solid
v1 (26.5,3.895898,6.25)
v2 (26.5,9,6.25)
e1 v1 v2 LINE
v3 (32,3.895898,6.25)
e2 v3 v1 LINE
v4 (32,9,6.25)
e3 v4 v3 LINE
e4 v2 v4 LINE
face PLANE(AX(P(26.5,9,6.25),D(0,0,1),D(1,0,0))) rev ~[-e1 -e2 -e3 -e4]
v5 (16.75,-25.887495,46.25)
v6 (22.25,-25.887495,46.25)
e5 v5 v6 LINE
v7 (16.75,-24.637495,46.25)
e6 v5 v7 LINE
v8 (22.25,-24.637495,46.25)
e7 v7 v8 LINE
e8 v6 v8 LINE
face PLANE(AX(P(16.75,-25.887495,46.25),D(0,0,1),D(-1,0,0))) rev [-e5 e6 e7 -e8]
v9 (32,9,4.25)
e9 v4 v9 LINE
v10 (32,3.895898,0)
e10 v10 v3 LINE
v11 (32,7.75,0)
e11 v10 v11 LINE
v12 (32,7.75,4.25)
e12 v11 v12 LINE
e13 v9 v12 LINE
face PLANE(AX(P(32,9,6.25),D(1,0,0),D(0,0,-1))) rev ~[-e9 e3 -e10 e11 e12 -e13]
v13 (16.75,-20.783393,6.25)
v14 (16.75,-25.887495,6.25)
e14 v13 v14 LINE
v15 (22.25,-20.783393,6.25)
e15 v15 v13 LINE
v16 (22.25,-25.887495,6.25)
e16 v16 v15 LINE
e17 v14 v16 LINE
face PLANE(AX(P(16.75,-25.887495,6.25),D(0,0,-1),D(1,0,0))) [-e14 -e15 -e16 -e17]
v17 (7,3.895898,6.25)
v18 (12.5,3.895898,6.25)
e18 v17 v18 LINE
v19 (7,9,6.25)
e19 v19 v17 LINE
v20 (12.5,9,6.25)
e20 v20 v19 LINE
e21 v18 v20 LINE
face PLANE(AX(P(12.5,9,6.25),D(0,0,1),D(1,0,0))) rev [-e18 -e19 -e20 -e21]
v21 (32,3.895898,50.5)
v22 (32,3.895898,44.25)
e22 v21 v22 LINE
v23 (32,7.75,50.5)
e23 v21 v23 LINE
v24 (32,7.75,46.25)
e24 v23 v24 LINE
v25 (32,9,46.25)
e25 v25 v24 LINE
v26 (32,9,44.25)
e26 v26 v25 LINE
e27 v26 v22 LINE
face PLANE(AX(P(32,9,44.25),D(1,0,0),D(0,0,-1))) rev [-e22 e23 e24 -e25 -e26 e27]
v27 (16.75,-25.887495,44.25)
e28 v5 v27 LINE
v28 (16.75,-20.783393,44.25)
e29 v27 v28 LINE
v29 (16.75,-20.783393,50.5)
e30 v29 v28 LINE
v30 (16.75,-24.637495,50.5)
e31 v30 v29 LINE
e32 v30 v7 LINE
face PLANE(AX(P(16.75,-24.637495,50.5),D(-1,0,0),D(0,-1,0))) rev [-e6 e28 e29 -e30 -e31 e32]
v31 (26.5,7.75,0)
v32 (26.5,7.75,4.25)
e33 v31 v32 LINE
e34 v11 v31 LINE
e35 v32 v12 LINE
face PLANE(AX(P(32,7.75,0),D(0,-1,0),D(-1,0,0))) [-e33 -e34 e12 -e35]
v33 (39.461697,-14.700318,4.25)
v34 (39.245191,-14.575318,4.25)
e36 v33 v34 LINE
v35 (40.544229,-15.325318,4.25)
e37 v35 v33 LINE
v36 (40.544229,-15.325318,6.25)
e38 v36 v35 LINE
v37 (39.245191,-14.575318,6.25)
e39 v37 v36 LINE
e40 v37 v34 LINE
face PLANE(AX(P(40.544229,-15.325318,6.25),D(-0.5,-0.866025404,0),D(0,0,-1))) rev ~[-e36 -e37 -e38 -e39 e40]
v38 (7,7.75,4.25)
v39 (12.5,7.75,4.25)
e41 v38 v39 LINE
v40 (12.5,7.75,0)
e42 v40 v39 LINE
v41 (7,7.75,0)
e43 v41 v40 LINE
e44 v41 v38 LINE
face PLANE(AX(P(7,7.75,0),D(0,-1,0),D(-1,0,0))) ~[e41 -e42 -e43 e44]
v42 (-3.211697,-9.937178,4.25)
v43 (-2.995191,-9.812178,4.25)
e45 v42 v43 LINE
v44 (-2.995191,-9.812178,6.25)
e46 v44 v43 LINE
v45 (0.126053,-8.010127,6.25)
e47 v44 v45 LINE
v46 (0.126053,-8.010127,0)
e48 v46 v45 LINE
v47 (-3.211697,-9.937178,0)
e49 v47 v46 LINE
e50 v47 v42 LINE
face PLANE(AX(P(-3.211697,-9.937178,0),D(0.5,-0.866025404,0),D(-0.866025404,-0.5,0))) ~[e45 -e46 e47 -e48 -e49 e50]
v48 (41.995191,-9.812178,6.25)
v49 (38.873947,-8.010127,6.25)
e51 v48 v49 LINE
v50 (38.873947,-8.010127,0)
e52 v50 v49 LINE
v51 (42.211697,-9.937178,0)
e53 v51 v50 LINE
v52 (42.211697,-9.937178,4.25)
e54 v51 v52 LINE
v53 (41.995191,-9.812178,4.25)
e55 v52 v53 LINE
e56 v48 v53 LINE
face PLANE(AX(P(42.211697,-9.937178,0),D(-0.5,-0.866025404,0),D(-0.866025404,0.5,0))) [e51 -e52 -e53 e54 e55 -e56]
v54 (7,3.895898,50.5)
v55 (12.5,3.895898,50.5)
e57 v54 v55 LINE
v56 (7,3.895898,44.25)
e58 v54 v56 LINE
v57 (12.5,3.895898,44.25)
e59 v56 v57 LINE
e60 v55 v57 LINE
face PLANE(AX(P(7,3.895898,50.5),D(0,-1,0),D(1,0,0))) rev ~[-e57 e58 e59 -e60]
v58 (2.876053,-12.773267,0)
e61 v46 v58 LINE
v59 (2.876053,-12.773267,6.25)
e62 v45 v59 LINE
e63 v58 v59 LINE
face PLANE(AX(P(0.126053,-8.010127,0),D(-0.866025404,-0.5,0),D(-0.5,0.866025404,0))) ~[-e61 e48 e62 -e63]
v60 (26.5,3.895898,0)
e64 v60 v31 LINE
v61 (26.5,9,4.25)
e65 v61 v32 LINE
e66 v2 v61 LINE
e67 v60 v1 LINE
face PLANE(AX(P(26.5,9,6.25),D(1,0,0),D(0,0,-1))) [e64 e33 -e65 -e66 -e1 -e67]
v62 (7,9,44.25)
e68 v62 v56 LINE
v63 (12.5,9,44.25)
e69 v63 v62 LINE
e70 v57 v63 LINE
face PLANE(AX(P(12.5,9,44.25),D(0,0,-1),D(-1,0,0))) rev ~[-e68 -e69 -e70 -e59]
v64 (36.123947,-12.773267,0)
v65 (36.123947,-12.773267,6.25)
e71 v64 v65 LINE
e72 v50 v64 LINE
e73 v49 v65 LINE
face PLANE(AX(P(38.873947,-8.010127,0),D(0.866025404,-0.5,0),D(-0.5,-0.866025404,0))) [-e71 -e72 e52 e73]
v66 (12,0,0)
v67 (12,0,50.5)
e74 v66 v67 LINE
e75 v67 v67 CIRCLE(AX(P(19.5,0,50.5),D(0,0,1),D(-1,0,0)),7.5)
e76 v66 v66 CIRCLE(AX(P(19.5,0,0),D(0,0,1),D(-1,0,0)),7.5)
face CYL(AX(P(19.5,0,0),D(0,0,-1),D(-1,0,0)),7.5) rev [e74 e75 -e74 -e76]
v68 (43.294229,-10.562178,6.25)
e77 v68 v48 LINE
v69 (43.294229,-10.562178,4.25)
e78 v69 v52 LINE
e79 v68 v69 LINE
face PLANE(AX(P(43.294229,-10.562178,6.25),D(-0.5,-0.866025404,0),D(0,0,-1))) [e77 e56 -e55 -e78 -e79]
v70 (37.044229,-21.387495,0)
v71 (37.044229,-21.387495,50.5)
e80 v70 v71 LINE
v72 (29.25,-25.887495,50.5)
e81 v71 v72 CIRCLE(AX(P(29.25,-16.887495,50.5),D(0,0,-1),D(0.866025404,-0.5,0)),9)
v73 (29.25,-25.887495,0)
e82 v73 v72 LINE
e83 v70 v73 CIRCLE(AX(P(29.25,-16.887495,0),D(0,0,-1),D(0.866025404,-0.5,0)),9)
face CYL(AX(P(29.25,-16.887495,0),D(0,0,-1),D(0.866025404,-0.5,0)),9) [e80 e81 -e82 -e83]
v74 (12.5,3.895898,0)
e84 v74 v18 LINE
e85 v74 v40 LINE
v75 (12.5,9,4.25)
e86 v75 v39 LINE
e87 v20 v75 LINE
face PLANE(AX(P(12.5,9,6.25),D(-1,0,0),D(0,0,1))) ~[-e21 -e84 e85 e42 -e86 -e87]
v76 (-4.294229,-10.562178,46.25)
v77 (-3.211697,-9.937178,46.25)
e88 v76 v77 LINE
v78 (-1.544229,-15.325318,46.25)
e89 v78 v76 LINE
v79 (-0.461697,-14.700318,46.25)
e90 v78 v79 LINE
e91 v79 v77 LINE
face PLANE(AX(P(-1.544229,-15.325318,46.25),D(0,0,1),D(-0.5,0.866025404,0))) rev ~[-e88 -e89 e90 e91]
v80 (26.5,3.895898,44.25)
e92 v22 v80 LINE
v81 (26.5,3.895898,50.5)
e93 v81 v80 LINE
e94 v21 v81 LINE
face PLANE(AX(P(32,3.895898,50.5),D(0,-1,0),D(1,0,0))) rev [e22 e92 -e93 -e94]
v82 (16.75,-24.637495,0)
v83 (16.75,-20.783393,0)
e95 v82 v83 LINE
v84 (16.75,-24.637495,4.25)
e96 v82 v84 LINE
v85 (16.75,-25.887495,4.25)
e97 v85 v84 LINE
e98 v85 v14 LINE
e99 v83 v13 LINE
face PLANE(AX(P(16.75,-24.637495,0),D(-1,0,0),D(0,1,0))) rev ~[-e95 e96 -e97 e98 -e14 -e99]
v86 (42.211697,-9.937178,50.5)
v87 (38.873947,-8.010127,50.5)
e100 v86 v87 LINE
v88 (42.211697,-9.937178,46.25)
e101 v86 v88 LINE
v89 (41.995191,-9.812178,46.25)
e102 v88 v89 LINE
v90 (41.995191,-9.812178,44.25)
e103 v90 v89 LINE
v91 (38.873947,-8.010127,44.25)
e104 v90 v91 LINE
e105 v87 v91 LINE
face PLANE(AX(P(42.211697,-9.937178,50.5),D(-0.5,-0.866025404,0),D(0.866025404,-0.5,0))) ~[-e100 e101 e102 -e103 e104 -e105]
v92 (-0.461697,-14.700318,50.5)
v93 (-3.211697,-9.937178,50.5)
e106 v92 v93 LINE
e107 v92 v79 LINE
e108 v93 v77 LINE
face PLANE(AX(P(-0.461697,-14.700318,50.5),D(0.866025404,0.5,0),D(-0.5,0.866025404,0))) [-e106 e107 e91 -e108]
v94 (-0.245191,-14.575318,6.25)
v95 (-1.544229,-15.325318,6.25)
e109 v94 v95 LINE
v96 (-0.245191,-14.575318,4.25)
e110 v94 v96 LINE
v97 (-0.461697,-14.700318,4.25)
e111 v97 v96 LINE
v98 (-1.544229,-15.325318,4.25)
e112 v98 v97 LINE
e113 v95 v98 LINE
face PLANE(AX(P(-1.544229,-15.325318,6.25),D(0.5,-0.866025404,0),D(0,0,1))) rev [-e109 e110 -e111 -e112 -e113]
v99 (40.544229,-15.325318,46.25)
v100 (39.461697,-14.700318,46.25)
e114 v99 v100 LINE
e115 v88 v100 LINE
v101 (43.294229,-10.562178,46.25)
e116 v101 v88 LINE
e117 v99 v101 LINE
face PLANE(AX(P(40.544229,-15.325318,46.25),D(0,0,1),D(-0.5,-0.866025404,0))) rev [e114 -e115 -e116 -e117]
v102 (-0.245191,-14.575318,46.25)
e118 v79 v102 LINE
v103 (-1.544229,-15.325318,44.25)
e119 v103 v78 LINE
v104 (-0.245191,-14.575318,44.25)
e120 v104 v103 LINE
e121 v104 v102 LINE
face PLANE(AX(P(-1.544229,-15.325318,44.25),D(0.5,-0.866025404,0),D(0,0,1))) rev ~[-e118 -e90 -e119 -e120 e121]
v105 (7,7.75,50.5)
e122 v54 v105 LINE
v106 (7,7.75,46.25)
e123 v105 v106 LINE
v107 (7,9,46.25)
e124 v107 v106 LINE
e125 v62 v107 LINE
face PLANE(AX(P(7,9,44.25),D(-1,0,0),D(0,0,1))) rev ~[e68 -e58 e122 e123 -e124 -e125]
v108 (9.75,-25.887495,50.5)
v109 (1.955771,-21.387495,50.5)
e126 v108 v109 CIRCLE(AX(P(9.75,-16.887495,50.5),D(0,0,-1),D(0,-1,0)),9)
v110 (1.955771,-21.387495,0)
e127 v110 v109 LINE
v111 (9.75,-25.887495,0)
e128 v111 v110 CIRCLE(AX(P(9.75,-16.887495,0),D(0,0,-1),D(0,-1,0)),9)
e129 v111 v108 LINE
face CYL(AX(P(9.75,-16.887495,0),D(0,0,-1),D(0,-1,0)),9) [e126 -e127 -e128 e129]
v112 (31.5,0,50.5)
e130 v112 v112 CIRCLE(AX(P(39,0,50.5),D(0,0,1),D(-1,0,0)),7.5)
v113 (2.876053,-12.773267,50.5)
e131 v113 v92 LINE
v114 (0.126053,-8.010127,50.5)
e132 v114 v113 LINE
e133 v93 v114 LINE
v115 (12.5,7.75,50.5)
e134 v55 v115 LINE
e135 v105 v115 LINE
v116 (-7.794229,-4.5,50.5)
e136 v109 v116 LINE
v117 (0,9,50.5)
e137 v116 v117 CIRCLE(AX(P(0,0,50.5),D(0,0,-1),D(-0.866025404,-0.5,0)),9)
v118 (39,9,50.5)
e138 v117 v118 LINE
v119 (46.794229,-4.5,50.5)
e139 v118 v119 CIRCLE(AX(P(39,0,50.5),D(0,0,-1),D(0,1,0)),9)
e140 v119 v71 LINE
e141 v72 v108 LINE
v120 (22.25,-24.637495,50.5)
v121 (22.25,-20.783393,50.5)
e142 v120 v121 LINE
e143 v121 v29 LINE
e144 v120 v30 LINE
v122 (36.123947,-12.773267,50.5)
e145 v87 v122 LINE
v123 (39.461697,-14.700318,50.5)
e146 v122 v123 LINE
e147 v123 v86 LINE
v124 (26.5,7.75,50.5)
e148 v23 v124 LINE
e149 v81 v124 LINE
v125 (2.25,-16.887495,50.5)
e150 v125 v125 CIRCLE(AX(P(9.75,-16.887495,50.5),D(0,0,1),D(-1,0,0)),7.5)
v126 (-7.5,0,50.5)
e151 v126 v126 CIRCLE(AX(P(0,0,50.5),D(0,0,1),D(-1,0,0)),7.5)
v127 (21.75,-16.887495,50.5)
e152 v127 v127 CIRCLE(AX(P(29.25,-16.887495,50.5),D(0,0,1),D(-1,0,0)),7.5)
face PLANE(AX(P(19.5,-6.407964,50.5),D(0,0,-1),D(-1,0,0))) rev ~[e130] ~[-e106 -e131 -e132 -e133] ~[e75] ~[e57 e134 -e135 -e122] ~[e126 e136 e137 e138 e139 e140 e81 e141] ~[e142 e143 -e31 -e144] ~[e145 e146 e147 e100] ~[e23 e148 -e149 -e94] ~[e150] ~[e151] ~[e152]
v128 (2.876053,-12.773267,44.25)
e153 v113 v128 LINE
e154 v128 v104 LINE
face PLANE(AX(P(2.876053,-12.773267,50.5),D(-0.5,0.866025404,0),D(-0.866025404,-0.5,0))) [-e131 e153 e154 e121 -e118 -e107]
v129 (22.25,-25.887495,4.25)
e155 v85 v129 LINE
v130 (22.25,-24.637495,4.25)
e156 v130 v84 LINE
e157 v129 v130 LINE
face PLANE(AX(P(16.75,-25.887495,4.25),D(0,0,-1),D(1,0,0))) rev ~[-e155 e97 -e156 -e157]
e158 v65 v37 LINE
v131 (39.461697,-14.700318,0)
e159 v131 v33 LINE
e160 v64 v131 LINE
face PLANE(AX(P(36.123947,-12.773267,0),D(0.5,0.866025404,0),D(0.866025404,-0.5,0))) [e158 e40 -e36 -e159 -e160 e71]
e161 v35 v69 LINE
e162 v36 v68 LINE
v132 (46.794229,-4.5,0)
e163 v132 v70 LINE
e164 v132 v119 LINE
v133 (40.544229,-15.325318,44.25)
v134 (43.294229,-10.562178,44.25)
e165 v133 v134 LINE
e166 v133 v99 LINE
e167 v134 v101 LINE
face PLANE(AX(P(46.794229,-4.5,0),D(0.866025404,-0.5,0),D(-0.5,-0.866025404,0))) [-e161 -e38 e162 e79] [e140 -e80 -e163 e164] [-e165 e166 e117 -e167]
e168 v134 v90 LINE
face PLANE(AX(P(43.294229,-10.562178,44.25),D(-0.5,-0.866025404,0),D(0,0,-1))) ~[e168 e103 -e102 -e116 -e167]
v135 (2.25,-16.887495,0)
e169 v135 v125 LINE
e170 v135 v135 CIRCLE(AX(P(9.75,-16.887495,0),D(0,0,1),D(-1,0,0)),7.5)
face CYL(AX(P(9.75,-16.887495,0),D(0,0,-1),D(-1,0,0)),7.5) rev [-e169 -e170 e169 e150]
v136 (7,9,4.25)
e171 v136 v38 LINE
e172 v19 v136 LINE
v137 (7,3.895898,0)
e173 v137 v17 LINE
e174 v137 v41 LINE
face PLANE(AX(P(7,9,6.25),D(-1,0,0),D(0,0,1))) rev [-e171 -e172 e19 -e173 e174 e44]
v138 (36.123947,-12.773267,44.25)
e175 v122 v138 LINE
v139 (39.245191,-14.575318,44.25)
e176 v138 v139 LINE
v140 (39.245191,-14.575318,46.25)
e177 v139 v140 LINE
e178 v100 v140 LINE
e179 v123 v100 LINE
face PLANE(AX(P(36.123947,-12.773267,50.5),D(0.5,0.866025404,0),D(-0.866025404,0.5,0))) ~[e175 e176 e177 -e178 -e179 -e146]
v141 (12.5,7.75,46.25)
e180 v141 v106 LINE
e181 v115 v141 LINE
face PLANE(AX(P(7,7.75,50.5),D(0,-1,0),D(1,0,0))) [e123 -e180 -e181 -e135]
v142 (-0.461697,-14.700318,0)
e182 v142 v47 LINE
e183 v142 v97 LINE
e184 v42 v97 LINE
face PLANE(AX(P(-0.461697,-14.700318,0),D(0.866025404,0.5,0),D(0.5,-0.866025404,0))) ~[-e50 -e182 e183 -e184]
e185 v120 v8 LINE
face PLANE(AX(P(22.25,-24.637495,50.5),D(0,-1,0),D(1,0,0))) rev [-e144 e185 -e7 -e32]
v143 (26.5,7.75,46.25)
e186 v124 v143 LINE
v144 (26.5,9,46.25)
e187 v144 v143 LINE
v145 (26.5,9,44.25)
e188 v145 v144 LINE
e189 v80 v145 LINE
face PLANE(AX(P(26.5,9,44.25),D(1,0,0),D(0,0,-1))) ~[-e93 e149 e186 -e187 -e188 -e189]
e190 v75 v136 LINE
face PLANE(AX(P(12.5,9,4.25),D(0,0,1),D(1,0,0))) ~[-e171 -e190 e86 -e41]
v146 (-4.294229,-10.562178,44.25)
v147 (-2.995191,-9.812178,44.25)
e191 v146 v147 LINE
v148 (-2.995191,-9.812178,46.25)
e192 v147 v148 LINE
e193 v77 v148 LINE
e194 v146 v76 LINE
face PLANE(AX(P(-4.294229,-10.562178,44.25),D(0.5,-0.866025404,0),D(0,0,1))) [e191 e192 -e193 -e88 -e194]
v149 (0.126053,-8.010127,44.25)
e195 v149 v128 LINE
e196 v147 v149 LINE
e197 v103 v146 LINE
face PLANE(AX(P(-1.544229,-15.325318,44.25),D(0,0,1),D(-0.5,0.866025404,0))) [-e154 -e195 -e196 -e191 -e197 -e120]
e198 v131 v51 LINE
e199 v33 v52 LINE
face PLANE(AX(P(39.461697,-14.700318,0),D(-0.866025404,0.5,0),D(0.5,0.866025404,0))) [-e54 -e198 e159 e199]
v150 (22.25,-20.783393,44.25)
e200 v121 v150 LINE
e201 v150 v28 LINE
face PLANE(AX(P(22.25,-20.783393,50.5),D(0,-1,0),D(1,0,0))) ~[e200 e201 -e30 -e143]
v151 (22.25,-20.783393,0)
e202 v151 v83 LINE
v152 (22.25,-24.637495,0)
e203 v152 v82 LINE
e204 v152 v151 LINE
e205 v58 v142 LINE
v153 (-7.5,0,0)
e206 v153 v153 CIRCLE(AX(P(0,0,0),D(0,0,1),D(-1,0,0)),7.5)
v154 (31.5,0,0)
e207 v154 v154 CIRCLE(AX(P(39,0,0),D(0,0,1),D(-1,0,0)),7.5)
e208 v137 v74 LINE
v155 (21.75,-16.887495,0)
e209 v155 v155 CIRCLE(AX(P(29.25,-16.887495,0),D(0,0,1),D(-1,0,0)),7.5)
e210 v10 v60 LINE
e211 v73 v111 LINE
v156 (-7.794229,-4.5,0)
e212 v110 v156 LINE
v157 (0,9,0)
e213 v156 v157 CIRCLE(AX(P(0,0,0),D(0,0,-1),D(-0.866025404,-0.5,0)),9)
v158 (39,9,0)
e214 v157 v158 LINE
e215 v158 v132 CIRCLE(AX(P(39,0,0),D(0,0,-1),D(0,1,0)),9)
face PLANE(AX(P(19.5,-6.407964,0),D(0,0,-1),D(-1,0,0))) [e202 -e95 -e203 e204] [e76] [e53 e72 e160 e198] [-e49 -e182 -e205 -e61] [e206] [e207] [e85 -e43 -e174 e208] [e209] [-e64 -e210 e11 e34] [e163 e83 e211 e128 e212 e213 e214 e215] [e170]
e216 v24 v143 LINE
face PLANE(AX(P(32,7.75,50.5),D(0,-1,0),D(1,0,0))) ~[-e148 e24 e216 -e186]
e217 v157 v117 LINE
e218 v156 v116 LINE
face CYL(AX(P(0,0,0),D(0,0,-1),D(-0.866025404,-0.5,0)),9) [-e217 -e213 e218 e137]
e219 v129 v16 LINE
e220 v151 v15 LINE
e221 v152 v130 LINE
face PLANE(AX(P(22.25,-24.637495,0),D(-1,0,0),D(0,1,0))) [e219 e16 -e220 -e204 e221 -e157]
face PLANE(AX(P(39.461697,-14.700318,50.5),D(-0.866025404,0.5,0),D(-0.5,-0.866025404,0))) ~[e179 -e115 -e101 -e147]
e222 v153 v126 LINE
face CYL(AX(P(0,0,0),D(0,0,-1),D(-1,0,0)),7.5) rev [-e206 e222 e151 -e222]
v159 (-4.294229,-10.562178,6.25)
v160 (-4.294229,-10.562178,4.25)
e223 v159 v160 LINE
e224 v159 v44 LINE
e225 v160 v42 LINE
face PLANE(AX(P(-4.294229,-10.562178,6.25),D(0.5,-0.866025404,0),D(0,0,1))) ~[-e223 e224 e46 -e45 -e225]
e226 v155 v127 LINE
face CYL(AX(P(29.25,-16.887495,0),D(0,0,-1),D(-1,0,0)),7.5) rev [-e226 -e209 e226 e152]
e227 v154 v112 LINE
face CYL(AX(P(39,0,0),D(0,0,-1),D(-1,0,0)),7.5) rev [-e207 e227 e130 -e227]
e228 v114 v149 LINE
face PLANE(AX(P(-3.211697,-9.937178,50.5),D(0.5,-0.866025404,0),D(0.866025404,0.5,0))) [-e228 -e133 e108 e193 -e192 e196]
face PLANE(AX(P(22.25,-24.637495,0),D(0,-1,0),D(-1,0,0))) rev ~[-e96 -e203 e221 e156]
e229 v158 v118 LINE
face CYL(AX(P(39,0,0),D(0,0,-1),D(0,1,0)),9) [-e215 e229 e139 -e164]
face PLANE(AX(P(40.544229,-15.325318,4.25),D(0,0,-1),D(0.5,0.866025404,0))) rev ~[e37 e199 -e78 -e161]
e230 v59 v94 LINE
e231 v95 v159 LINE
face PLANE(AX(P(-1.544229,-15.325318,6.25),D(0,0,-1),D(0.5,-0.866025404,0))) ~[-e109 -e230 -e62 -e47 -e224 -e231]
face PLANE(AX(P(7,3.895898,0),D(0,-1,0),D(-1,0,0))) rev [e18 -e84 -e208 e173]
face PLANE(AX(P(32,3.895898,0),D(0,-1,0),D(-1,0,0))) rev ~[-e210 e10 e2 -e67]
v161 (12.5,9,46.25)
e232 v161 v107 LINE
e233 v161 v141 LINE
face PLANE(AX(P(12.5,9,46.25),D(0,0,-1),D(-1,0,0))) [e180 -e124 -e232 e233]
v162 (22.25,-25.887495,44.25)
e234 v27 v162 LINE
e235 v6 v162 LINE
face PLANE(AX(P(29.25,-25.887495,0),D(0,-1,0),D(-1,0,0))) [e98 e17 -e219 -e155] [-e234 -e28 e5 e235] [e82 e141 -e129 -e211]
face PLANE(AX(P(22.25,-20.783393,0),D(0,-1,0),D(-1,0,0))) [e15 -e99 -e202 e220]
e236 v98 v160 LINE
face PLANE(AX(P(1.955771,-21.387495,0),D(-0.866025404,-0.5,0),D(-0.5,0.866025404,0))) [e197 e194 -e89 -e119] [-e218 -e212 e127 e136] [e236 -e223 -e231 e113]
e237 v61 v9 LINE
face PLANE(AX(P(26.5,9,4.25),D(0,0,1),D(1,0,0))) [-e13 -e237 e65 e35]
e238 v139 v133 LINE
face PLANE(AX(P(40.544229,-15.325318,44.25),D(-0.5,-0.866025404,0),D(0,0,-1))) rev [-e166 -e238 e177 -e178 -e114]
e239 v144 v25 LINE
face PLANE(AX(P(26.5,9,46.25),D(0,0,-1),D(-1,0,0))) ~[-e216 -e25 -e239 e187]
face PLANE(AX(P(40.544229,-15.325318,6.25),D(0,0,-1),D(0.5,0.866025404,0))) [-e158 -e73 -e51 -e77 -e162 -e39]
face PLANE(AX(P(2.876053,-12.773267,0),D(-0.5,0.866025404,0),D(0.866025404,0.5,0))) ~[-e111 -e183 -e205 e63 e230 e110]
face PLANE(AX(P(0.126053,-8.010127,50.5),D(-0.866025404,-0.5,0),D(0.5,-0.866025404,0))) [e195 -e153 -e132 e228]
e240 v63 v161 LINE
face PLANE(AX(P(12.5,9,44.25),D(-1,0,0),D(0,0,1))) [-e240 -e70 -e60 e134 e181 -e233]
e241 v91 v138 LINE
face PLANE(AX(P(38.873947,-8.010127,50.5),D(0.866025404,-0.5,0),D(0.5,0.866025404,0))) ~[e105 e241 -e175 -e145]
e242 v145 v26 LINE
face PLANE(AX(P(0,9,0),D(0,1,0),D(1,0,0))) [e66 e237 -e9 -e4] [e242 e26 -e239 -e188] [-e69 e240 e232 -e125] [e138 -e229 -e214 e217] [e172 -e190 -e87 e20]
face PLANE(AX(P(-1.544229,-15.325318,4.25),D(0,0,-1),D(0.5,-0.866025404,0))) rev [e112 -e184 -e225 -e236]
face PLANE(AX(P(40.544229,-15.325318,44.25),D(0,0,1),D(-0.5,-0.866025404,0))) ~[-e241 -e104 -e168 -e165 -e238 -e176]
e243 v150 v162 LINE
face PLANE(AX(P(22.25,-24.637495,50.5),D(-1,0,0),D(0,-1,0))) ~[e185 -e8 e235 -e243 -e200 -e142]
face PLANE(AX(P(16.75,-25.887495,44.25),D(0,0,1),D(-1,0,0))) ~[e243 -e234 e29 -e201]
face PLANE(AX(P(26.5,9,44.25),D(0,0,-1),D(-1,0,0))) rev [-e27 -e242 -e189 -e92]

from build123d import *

# Parameters (mm, degrees)
SKETCH1_R               = 7.5
BOSS_EXTRUDE1_DEPTH     = 50.5
SKETCH2_W               = 2
SKETCH2_H               = 5.5
CUT_EXTRUDE1_DEPTH      = 1.5
SKETCH3_W               = 5.5
SKETCH3_H               = 2
CUT_EXTRUDE2_DEPTH      = 1.5
SKETCH4_W               = 5.5
SKETCH4_H               = 2
CUT_EXTRUDE3_DEPTH      = 1.5
SKETCH5_W               = 5.5
SKETCH5_H               = 3.854101966
CUT_EXTRUDE4_DEPTH      = 6.25
MIRROR3_COPY_1_SKETCH_W = 2
MIRROR3_COPY_1_SKETCH_H = 5.5
MIRROR3_COPY_1_DEPTH    = 1.5
MIRROR3_COPY_2_SKETCH_W = 5.5
MIRROR3_COPY_2_SKETCH_H = 2
MIRROR3_COPY_2_DEPTH    = 1.5
MIRROR3_COPY_3_SKETCH_W = 5.5
MIRROR3_COPY_3_SKETCH_H = 2
MIRROR3_COPY_3_DEPTH    = 1.5
MIRROR3_COPY_4_SKETCH_W = 5.5
MIRROR3_COPY_4_SKETCH_H = 3.854101966
MIRROR3_COPY_4_DEPTH    = 6.25


with BuildPart() as part:
    # Sketch1 → Boss-Extrude1 (new body)
    with BuildSketch(Plane.XY):
        with BuildLine():
            Line((0, 9), (39, 9))
            ThreePointArc((39, 9), (46.794228634, 4.5), (46.794228634, -4.5))
            Line((46.794228634, -4.5), (37.044228634, -21.387495374))
            ThreePointArc((37.044228634, -21.387495374), (33.75, -24.681724008), (29.25, -25.887495374))
            Line((29.25, -25.887495374), (9.75, -25.887495374))
            ThreePointArc((9.75, -25.887495374), (5.25, -24.681724008), (1.955771366, -21.387495374))
            Line((1.955771366, -21.387495374), (-7.794228634, -4.5))
            ThreePointArc((-7.794228634, -4.5), (-7.794228634, 4.5), (0, 9))
        make_face()
        with Locations(Location((0, 0, 0), (0, 0, 180))):
            Circle(SKETCH1_R, mode=Mode.SUBTRACT)
        with Locations(Location((9.75, -16.887495374, 0), (0, 0, 180))):
            Circle(SKETCH1_R, mode=Mode.SUBTRACT)
        with Locations(Location((19.5, 0, 0), (0, 0, 180))):
            Circle(SKETCH1_R, mode=Mode.SUBTRACT)
        with Locations(Location((39, 0, 0), (0, 0, 180))):
            Circle(SKETCH1_R, mode=Mode.SUBTRACT)
        with Locations(Location((29.25, -16.887495374, 0), (0, 0, 180))):
            Circle(SKETCH1_R, mode=Mode.SUBTRACT)
    extrude(amount=BOSS_EXTRUDE1_DEPTH)

    # Sketch2 → Cut-Extrude1 (cut)
    with BuildSketch(Plane(origin=(37.044228634, -21.387495374, 0), x_dir=(0, 0, -1), z_dir=(0.8660254037844384, -0.5000000000000007, 0))):
        with Locations((-5.25, 9.75)):
            Rectangle(SKETCH2_W, SKETCH2_H)
    cut_extrude1 = extrude(amount=-CUT_EXTRUDE1_DEPTH, mode=Mode.SUBTRACT)

    # Sketch3 → Cut-Extrude2 (cut)
    with BuildSketch(Plane(origin=(0, 9, 0), x_dir=(1, 0, 0), z_dir=(0, 1, 0))):
        with Locations((29.25, -5.25)):
            Rectangle(SKETCH3_W, SKETCH3_H)
    cut_extrude2 = extrude(amount=-CUT_EXTRUDE2_DEPTH, mode=Mode.SUBTRACT)

    # Sketch4 → Cut-Extrude3 (cut)
    with BuildSketch(Plane.XZ.offset(25.887495374)):
        with Locations((19.5, 5.25)):
            Rectangle(SKETCH4_W, SKETCH4_H)
    cut_extrude3 = extrude(amount=-CUT_EXTRUDE3_DEPTH, mode=Mode.SUBTRACT)

    # Sketch5 → Cut-Extrude4 (cut)
    with BuildSketch(Plane(origin=(0, 0, 0), x_dir=(-1, 0, 0), z_dir=(0, 0, -1))):
        with Locations((-29.25, 5.822949017)):
            Rectangle(SKETCH5_W, SKETCH5_H)
        with Locations((-19.5, -22.710444391)):
            Rectangle(SKETCH5_W, SKETCH5_H)
        Polygon((-38.873946668, -8.010126843), (-36.123946668, -12.773266564), (-39.461696879, -14.700317547), (-42.211696879, -9.937177826), align=None)
    cut_extrude4 = extrude(amount=-CUT_EXTRUDE4_DEPTH, mode=Mode.SUBTRACT)

    # Mirror2: Cut-Extrude1, Cut-Extrude2, Cut-Extrude3, Cut-Extrude4 across plane
    add(cut_extrude1.mirror(Plane.ZY.offset(-19.5)), mode=Mode.SUBTRACT)
    add(cut_extrude2.mirror(Plane.ZY.offset(-19.5)), mode=Mode.SUBTRACT)
    add(cut_extrude3.mirror(Plane.ZY.offset(-19.5)), mode=Mode.SUBTRACT)
    add(cut_extrude4.mirror(Plane.ZY.offset(-19.5)), mode=Mode.SUBTRACT)

    # Mirror3: Cut-Extrude1, Cut-Extrude2, Cut-Extrude3, Cut-Extrude4 across plane
    add(cut_extrude1.mirror(Plane(origin=(0, 0, 25.25), x_dir=(1, 0, 0), z_dir=(0, 0, -1))), mode=Mode.SUBTRACT)
    add(cut_extrude2.mirror(Plane(origin=(0, 0, 25.25), x_dir=(1, 0, 0), z_dir=(0, 0, -1))), mode=Mode.SUBTRACT)
    add(cut_extrude3.mirror(Plane(origin=(0, 0, 25.25), x_dir=(1, 0, 0), z_dir=(0, 0, -1))), mode=Mode.SUBTRACT)
    add(cut_extrude4.mirror(Plane(origin=(0, 0, 25.25), x_dir=(1, 0, 0), z_dir=(0, 0, -1))), mode=Mode.SUBTRACT)

    # Mirror3 copy 1 sketch → Mirror3 copy 1 (cut)
    with BuildSketch(Plane(origin=(1.955771366, -21.387495374, 50.5), x_dir=(0, 0, 1), z_dir=(-0.8660254037844384, -0.5000000000000007, 1.2779807689605148e-15))):
        with Locations((-5.25, 9.75)):
            Rectangle(MIRROR3_COPY_1_SKETCH_W, MIRROR3_COPY_1_SKETCH_H)
    extrude(amount=-MIRROR3_COPY_1_DEPTH, mode=Mode.SUBTRACT)

    # Mirror3 copy 2 sketch → Mirror3 copy 2 (cut)
    with BuildSketch(Plane(origin=(39, 9, 50.5), x_dir=(-1, 0, 0), z_dir=(0, 1, 0))):
        with Locations((29.25, -5.25)):
            Rectangle(MIRROR3_COPY_2_SKETCH_W, MIRROR3_COPY_2_SKETCH_H)
    extrude(amount=-MIRROR3_COPY_2_DEPTH, mode=Mode.SUBTRACT)

    # Mirror3 copy 3 sketch → Mirror3 copy 3 (cut)
    with BuildSketch(Plane(origin=(39, -25.887495374, 50.5), x_dir=(-1, 0, 0), z_dir=(0, -1, 0))):
        with Locations((19.5, 5.25)):
            Rectangle(MIRROR3_COPY_3_SKETCH_W, MIRROR3_COPY_3_SKETCH_H)
    extrude(amount=-MIRROR3_COPY_3_DEPTH, mode=Mode.SUBTRACT)

    # Mirror3 copy 4 sketch → Mirror3 copy 4 (cut)
    with BuildSketch(Plane(origin=(39, 0, 50.5), x_dir=(1, 0, 0), z_dir=(0, 0, 1))):
        with Locations((-29.25, 5.822949017)):
            Rectangle(MIRROR3_COPY_4_SKETCH_W, MIRROR3_COPY_4_SKETCH_H)
        with Locations((-19.5, -22.710444391)):
            Rectangle(MIRROR3_COPY_4_SKETCH_W, MIRROR3_COPY_4_SKETCH_H)
        Polygon((-38.873946668, -8.010126843), (-36.123946668, -12.773266564), (-39.461696879, -14.700317547), (-42.211696879, -9.937177826), align=None)
    extrude(amount=-MIRROR3_COPY_4_DEPTH, mode=Mode.SUBTRACT)


solid = part.part
